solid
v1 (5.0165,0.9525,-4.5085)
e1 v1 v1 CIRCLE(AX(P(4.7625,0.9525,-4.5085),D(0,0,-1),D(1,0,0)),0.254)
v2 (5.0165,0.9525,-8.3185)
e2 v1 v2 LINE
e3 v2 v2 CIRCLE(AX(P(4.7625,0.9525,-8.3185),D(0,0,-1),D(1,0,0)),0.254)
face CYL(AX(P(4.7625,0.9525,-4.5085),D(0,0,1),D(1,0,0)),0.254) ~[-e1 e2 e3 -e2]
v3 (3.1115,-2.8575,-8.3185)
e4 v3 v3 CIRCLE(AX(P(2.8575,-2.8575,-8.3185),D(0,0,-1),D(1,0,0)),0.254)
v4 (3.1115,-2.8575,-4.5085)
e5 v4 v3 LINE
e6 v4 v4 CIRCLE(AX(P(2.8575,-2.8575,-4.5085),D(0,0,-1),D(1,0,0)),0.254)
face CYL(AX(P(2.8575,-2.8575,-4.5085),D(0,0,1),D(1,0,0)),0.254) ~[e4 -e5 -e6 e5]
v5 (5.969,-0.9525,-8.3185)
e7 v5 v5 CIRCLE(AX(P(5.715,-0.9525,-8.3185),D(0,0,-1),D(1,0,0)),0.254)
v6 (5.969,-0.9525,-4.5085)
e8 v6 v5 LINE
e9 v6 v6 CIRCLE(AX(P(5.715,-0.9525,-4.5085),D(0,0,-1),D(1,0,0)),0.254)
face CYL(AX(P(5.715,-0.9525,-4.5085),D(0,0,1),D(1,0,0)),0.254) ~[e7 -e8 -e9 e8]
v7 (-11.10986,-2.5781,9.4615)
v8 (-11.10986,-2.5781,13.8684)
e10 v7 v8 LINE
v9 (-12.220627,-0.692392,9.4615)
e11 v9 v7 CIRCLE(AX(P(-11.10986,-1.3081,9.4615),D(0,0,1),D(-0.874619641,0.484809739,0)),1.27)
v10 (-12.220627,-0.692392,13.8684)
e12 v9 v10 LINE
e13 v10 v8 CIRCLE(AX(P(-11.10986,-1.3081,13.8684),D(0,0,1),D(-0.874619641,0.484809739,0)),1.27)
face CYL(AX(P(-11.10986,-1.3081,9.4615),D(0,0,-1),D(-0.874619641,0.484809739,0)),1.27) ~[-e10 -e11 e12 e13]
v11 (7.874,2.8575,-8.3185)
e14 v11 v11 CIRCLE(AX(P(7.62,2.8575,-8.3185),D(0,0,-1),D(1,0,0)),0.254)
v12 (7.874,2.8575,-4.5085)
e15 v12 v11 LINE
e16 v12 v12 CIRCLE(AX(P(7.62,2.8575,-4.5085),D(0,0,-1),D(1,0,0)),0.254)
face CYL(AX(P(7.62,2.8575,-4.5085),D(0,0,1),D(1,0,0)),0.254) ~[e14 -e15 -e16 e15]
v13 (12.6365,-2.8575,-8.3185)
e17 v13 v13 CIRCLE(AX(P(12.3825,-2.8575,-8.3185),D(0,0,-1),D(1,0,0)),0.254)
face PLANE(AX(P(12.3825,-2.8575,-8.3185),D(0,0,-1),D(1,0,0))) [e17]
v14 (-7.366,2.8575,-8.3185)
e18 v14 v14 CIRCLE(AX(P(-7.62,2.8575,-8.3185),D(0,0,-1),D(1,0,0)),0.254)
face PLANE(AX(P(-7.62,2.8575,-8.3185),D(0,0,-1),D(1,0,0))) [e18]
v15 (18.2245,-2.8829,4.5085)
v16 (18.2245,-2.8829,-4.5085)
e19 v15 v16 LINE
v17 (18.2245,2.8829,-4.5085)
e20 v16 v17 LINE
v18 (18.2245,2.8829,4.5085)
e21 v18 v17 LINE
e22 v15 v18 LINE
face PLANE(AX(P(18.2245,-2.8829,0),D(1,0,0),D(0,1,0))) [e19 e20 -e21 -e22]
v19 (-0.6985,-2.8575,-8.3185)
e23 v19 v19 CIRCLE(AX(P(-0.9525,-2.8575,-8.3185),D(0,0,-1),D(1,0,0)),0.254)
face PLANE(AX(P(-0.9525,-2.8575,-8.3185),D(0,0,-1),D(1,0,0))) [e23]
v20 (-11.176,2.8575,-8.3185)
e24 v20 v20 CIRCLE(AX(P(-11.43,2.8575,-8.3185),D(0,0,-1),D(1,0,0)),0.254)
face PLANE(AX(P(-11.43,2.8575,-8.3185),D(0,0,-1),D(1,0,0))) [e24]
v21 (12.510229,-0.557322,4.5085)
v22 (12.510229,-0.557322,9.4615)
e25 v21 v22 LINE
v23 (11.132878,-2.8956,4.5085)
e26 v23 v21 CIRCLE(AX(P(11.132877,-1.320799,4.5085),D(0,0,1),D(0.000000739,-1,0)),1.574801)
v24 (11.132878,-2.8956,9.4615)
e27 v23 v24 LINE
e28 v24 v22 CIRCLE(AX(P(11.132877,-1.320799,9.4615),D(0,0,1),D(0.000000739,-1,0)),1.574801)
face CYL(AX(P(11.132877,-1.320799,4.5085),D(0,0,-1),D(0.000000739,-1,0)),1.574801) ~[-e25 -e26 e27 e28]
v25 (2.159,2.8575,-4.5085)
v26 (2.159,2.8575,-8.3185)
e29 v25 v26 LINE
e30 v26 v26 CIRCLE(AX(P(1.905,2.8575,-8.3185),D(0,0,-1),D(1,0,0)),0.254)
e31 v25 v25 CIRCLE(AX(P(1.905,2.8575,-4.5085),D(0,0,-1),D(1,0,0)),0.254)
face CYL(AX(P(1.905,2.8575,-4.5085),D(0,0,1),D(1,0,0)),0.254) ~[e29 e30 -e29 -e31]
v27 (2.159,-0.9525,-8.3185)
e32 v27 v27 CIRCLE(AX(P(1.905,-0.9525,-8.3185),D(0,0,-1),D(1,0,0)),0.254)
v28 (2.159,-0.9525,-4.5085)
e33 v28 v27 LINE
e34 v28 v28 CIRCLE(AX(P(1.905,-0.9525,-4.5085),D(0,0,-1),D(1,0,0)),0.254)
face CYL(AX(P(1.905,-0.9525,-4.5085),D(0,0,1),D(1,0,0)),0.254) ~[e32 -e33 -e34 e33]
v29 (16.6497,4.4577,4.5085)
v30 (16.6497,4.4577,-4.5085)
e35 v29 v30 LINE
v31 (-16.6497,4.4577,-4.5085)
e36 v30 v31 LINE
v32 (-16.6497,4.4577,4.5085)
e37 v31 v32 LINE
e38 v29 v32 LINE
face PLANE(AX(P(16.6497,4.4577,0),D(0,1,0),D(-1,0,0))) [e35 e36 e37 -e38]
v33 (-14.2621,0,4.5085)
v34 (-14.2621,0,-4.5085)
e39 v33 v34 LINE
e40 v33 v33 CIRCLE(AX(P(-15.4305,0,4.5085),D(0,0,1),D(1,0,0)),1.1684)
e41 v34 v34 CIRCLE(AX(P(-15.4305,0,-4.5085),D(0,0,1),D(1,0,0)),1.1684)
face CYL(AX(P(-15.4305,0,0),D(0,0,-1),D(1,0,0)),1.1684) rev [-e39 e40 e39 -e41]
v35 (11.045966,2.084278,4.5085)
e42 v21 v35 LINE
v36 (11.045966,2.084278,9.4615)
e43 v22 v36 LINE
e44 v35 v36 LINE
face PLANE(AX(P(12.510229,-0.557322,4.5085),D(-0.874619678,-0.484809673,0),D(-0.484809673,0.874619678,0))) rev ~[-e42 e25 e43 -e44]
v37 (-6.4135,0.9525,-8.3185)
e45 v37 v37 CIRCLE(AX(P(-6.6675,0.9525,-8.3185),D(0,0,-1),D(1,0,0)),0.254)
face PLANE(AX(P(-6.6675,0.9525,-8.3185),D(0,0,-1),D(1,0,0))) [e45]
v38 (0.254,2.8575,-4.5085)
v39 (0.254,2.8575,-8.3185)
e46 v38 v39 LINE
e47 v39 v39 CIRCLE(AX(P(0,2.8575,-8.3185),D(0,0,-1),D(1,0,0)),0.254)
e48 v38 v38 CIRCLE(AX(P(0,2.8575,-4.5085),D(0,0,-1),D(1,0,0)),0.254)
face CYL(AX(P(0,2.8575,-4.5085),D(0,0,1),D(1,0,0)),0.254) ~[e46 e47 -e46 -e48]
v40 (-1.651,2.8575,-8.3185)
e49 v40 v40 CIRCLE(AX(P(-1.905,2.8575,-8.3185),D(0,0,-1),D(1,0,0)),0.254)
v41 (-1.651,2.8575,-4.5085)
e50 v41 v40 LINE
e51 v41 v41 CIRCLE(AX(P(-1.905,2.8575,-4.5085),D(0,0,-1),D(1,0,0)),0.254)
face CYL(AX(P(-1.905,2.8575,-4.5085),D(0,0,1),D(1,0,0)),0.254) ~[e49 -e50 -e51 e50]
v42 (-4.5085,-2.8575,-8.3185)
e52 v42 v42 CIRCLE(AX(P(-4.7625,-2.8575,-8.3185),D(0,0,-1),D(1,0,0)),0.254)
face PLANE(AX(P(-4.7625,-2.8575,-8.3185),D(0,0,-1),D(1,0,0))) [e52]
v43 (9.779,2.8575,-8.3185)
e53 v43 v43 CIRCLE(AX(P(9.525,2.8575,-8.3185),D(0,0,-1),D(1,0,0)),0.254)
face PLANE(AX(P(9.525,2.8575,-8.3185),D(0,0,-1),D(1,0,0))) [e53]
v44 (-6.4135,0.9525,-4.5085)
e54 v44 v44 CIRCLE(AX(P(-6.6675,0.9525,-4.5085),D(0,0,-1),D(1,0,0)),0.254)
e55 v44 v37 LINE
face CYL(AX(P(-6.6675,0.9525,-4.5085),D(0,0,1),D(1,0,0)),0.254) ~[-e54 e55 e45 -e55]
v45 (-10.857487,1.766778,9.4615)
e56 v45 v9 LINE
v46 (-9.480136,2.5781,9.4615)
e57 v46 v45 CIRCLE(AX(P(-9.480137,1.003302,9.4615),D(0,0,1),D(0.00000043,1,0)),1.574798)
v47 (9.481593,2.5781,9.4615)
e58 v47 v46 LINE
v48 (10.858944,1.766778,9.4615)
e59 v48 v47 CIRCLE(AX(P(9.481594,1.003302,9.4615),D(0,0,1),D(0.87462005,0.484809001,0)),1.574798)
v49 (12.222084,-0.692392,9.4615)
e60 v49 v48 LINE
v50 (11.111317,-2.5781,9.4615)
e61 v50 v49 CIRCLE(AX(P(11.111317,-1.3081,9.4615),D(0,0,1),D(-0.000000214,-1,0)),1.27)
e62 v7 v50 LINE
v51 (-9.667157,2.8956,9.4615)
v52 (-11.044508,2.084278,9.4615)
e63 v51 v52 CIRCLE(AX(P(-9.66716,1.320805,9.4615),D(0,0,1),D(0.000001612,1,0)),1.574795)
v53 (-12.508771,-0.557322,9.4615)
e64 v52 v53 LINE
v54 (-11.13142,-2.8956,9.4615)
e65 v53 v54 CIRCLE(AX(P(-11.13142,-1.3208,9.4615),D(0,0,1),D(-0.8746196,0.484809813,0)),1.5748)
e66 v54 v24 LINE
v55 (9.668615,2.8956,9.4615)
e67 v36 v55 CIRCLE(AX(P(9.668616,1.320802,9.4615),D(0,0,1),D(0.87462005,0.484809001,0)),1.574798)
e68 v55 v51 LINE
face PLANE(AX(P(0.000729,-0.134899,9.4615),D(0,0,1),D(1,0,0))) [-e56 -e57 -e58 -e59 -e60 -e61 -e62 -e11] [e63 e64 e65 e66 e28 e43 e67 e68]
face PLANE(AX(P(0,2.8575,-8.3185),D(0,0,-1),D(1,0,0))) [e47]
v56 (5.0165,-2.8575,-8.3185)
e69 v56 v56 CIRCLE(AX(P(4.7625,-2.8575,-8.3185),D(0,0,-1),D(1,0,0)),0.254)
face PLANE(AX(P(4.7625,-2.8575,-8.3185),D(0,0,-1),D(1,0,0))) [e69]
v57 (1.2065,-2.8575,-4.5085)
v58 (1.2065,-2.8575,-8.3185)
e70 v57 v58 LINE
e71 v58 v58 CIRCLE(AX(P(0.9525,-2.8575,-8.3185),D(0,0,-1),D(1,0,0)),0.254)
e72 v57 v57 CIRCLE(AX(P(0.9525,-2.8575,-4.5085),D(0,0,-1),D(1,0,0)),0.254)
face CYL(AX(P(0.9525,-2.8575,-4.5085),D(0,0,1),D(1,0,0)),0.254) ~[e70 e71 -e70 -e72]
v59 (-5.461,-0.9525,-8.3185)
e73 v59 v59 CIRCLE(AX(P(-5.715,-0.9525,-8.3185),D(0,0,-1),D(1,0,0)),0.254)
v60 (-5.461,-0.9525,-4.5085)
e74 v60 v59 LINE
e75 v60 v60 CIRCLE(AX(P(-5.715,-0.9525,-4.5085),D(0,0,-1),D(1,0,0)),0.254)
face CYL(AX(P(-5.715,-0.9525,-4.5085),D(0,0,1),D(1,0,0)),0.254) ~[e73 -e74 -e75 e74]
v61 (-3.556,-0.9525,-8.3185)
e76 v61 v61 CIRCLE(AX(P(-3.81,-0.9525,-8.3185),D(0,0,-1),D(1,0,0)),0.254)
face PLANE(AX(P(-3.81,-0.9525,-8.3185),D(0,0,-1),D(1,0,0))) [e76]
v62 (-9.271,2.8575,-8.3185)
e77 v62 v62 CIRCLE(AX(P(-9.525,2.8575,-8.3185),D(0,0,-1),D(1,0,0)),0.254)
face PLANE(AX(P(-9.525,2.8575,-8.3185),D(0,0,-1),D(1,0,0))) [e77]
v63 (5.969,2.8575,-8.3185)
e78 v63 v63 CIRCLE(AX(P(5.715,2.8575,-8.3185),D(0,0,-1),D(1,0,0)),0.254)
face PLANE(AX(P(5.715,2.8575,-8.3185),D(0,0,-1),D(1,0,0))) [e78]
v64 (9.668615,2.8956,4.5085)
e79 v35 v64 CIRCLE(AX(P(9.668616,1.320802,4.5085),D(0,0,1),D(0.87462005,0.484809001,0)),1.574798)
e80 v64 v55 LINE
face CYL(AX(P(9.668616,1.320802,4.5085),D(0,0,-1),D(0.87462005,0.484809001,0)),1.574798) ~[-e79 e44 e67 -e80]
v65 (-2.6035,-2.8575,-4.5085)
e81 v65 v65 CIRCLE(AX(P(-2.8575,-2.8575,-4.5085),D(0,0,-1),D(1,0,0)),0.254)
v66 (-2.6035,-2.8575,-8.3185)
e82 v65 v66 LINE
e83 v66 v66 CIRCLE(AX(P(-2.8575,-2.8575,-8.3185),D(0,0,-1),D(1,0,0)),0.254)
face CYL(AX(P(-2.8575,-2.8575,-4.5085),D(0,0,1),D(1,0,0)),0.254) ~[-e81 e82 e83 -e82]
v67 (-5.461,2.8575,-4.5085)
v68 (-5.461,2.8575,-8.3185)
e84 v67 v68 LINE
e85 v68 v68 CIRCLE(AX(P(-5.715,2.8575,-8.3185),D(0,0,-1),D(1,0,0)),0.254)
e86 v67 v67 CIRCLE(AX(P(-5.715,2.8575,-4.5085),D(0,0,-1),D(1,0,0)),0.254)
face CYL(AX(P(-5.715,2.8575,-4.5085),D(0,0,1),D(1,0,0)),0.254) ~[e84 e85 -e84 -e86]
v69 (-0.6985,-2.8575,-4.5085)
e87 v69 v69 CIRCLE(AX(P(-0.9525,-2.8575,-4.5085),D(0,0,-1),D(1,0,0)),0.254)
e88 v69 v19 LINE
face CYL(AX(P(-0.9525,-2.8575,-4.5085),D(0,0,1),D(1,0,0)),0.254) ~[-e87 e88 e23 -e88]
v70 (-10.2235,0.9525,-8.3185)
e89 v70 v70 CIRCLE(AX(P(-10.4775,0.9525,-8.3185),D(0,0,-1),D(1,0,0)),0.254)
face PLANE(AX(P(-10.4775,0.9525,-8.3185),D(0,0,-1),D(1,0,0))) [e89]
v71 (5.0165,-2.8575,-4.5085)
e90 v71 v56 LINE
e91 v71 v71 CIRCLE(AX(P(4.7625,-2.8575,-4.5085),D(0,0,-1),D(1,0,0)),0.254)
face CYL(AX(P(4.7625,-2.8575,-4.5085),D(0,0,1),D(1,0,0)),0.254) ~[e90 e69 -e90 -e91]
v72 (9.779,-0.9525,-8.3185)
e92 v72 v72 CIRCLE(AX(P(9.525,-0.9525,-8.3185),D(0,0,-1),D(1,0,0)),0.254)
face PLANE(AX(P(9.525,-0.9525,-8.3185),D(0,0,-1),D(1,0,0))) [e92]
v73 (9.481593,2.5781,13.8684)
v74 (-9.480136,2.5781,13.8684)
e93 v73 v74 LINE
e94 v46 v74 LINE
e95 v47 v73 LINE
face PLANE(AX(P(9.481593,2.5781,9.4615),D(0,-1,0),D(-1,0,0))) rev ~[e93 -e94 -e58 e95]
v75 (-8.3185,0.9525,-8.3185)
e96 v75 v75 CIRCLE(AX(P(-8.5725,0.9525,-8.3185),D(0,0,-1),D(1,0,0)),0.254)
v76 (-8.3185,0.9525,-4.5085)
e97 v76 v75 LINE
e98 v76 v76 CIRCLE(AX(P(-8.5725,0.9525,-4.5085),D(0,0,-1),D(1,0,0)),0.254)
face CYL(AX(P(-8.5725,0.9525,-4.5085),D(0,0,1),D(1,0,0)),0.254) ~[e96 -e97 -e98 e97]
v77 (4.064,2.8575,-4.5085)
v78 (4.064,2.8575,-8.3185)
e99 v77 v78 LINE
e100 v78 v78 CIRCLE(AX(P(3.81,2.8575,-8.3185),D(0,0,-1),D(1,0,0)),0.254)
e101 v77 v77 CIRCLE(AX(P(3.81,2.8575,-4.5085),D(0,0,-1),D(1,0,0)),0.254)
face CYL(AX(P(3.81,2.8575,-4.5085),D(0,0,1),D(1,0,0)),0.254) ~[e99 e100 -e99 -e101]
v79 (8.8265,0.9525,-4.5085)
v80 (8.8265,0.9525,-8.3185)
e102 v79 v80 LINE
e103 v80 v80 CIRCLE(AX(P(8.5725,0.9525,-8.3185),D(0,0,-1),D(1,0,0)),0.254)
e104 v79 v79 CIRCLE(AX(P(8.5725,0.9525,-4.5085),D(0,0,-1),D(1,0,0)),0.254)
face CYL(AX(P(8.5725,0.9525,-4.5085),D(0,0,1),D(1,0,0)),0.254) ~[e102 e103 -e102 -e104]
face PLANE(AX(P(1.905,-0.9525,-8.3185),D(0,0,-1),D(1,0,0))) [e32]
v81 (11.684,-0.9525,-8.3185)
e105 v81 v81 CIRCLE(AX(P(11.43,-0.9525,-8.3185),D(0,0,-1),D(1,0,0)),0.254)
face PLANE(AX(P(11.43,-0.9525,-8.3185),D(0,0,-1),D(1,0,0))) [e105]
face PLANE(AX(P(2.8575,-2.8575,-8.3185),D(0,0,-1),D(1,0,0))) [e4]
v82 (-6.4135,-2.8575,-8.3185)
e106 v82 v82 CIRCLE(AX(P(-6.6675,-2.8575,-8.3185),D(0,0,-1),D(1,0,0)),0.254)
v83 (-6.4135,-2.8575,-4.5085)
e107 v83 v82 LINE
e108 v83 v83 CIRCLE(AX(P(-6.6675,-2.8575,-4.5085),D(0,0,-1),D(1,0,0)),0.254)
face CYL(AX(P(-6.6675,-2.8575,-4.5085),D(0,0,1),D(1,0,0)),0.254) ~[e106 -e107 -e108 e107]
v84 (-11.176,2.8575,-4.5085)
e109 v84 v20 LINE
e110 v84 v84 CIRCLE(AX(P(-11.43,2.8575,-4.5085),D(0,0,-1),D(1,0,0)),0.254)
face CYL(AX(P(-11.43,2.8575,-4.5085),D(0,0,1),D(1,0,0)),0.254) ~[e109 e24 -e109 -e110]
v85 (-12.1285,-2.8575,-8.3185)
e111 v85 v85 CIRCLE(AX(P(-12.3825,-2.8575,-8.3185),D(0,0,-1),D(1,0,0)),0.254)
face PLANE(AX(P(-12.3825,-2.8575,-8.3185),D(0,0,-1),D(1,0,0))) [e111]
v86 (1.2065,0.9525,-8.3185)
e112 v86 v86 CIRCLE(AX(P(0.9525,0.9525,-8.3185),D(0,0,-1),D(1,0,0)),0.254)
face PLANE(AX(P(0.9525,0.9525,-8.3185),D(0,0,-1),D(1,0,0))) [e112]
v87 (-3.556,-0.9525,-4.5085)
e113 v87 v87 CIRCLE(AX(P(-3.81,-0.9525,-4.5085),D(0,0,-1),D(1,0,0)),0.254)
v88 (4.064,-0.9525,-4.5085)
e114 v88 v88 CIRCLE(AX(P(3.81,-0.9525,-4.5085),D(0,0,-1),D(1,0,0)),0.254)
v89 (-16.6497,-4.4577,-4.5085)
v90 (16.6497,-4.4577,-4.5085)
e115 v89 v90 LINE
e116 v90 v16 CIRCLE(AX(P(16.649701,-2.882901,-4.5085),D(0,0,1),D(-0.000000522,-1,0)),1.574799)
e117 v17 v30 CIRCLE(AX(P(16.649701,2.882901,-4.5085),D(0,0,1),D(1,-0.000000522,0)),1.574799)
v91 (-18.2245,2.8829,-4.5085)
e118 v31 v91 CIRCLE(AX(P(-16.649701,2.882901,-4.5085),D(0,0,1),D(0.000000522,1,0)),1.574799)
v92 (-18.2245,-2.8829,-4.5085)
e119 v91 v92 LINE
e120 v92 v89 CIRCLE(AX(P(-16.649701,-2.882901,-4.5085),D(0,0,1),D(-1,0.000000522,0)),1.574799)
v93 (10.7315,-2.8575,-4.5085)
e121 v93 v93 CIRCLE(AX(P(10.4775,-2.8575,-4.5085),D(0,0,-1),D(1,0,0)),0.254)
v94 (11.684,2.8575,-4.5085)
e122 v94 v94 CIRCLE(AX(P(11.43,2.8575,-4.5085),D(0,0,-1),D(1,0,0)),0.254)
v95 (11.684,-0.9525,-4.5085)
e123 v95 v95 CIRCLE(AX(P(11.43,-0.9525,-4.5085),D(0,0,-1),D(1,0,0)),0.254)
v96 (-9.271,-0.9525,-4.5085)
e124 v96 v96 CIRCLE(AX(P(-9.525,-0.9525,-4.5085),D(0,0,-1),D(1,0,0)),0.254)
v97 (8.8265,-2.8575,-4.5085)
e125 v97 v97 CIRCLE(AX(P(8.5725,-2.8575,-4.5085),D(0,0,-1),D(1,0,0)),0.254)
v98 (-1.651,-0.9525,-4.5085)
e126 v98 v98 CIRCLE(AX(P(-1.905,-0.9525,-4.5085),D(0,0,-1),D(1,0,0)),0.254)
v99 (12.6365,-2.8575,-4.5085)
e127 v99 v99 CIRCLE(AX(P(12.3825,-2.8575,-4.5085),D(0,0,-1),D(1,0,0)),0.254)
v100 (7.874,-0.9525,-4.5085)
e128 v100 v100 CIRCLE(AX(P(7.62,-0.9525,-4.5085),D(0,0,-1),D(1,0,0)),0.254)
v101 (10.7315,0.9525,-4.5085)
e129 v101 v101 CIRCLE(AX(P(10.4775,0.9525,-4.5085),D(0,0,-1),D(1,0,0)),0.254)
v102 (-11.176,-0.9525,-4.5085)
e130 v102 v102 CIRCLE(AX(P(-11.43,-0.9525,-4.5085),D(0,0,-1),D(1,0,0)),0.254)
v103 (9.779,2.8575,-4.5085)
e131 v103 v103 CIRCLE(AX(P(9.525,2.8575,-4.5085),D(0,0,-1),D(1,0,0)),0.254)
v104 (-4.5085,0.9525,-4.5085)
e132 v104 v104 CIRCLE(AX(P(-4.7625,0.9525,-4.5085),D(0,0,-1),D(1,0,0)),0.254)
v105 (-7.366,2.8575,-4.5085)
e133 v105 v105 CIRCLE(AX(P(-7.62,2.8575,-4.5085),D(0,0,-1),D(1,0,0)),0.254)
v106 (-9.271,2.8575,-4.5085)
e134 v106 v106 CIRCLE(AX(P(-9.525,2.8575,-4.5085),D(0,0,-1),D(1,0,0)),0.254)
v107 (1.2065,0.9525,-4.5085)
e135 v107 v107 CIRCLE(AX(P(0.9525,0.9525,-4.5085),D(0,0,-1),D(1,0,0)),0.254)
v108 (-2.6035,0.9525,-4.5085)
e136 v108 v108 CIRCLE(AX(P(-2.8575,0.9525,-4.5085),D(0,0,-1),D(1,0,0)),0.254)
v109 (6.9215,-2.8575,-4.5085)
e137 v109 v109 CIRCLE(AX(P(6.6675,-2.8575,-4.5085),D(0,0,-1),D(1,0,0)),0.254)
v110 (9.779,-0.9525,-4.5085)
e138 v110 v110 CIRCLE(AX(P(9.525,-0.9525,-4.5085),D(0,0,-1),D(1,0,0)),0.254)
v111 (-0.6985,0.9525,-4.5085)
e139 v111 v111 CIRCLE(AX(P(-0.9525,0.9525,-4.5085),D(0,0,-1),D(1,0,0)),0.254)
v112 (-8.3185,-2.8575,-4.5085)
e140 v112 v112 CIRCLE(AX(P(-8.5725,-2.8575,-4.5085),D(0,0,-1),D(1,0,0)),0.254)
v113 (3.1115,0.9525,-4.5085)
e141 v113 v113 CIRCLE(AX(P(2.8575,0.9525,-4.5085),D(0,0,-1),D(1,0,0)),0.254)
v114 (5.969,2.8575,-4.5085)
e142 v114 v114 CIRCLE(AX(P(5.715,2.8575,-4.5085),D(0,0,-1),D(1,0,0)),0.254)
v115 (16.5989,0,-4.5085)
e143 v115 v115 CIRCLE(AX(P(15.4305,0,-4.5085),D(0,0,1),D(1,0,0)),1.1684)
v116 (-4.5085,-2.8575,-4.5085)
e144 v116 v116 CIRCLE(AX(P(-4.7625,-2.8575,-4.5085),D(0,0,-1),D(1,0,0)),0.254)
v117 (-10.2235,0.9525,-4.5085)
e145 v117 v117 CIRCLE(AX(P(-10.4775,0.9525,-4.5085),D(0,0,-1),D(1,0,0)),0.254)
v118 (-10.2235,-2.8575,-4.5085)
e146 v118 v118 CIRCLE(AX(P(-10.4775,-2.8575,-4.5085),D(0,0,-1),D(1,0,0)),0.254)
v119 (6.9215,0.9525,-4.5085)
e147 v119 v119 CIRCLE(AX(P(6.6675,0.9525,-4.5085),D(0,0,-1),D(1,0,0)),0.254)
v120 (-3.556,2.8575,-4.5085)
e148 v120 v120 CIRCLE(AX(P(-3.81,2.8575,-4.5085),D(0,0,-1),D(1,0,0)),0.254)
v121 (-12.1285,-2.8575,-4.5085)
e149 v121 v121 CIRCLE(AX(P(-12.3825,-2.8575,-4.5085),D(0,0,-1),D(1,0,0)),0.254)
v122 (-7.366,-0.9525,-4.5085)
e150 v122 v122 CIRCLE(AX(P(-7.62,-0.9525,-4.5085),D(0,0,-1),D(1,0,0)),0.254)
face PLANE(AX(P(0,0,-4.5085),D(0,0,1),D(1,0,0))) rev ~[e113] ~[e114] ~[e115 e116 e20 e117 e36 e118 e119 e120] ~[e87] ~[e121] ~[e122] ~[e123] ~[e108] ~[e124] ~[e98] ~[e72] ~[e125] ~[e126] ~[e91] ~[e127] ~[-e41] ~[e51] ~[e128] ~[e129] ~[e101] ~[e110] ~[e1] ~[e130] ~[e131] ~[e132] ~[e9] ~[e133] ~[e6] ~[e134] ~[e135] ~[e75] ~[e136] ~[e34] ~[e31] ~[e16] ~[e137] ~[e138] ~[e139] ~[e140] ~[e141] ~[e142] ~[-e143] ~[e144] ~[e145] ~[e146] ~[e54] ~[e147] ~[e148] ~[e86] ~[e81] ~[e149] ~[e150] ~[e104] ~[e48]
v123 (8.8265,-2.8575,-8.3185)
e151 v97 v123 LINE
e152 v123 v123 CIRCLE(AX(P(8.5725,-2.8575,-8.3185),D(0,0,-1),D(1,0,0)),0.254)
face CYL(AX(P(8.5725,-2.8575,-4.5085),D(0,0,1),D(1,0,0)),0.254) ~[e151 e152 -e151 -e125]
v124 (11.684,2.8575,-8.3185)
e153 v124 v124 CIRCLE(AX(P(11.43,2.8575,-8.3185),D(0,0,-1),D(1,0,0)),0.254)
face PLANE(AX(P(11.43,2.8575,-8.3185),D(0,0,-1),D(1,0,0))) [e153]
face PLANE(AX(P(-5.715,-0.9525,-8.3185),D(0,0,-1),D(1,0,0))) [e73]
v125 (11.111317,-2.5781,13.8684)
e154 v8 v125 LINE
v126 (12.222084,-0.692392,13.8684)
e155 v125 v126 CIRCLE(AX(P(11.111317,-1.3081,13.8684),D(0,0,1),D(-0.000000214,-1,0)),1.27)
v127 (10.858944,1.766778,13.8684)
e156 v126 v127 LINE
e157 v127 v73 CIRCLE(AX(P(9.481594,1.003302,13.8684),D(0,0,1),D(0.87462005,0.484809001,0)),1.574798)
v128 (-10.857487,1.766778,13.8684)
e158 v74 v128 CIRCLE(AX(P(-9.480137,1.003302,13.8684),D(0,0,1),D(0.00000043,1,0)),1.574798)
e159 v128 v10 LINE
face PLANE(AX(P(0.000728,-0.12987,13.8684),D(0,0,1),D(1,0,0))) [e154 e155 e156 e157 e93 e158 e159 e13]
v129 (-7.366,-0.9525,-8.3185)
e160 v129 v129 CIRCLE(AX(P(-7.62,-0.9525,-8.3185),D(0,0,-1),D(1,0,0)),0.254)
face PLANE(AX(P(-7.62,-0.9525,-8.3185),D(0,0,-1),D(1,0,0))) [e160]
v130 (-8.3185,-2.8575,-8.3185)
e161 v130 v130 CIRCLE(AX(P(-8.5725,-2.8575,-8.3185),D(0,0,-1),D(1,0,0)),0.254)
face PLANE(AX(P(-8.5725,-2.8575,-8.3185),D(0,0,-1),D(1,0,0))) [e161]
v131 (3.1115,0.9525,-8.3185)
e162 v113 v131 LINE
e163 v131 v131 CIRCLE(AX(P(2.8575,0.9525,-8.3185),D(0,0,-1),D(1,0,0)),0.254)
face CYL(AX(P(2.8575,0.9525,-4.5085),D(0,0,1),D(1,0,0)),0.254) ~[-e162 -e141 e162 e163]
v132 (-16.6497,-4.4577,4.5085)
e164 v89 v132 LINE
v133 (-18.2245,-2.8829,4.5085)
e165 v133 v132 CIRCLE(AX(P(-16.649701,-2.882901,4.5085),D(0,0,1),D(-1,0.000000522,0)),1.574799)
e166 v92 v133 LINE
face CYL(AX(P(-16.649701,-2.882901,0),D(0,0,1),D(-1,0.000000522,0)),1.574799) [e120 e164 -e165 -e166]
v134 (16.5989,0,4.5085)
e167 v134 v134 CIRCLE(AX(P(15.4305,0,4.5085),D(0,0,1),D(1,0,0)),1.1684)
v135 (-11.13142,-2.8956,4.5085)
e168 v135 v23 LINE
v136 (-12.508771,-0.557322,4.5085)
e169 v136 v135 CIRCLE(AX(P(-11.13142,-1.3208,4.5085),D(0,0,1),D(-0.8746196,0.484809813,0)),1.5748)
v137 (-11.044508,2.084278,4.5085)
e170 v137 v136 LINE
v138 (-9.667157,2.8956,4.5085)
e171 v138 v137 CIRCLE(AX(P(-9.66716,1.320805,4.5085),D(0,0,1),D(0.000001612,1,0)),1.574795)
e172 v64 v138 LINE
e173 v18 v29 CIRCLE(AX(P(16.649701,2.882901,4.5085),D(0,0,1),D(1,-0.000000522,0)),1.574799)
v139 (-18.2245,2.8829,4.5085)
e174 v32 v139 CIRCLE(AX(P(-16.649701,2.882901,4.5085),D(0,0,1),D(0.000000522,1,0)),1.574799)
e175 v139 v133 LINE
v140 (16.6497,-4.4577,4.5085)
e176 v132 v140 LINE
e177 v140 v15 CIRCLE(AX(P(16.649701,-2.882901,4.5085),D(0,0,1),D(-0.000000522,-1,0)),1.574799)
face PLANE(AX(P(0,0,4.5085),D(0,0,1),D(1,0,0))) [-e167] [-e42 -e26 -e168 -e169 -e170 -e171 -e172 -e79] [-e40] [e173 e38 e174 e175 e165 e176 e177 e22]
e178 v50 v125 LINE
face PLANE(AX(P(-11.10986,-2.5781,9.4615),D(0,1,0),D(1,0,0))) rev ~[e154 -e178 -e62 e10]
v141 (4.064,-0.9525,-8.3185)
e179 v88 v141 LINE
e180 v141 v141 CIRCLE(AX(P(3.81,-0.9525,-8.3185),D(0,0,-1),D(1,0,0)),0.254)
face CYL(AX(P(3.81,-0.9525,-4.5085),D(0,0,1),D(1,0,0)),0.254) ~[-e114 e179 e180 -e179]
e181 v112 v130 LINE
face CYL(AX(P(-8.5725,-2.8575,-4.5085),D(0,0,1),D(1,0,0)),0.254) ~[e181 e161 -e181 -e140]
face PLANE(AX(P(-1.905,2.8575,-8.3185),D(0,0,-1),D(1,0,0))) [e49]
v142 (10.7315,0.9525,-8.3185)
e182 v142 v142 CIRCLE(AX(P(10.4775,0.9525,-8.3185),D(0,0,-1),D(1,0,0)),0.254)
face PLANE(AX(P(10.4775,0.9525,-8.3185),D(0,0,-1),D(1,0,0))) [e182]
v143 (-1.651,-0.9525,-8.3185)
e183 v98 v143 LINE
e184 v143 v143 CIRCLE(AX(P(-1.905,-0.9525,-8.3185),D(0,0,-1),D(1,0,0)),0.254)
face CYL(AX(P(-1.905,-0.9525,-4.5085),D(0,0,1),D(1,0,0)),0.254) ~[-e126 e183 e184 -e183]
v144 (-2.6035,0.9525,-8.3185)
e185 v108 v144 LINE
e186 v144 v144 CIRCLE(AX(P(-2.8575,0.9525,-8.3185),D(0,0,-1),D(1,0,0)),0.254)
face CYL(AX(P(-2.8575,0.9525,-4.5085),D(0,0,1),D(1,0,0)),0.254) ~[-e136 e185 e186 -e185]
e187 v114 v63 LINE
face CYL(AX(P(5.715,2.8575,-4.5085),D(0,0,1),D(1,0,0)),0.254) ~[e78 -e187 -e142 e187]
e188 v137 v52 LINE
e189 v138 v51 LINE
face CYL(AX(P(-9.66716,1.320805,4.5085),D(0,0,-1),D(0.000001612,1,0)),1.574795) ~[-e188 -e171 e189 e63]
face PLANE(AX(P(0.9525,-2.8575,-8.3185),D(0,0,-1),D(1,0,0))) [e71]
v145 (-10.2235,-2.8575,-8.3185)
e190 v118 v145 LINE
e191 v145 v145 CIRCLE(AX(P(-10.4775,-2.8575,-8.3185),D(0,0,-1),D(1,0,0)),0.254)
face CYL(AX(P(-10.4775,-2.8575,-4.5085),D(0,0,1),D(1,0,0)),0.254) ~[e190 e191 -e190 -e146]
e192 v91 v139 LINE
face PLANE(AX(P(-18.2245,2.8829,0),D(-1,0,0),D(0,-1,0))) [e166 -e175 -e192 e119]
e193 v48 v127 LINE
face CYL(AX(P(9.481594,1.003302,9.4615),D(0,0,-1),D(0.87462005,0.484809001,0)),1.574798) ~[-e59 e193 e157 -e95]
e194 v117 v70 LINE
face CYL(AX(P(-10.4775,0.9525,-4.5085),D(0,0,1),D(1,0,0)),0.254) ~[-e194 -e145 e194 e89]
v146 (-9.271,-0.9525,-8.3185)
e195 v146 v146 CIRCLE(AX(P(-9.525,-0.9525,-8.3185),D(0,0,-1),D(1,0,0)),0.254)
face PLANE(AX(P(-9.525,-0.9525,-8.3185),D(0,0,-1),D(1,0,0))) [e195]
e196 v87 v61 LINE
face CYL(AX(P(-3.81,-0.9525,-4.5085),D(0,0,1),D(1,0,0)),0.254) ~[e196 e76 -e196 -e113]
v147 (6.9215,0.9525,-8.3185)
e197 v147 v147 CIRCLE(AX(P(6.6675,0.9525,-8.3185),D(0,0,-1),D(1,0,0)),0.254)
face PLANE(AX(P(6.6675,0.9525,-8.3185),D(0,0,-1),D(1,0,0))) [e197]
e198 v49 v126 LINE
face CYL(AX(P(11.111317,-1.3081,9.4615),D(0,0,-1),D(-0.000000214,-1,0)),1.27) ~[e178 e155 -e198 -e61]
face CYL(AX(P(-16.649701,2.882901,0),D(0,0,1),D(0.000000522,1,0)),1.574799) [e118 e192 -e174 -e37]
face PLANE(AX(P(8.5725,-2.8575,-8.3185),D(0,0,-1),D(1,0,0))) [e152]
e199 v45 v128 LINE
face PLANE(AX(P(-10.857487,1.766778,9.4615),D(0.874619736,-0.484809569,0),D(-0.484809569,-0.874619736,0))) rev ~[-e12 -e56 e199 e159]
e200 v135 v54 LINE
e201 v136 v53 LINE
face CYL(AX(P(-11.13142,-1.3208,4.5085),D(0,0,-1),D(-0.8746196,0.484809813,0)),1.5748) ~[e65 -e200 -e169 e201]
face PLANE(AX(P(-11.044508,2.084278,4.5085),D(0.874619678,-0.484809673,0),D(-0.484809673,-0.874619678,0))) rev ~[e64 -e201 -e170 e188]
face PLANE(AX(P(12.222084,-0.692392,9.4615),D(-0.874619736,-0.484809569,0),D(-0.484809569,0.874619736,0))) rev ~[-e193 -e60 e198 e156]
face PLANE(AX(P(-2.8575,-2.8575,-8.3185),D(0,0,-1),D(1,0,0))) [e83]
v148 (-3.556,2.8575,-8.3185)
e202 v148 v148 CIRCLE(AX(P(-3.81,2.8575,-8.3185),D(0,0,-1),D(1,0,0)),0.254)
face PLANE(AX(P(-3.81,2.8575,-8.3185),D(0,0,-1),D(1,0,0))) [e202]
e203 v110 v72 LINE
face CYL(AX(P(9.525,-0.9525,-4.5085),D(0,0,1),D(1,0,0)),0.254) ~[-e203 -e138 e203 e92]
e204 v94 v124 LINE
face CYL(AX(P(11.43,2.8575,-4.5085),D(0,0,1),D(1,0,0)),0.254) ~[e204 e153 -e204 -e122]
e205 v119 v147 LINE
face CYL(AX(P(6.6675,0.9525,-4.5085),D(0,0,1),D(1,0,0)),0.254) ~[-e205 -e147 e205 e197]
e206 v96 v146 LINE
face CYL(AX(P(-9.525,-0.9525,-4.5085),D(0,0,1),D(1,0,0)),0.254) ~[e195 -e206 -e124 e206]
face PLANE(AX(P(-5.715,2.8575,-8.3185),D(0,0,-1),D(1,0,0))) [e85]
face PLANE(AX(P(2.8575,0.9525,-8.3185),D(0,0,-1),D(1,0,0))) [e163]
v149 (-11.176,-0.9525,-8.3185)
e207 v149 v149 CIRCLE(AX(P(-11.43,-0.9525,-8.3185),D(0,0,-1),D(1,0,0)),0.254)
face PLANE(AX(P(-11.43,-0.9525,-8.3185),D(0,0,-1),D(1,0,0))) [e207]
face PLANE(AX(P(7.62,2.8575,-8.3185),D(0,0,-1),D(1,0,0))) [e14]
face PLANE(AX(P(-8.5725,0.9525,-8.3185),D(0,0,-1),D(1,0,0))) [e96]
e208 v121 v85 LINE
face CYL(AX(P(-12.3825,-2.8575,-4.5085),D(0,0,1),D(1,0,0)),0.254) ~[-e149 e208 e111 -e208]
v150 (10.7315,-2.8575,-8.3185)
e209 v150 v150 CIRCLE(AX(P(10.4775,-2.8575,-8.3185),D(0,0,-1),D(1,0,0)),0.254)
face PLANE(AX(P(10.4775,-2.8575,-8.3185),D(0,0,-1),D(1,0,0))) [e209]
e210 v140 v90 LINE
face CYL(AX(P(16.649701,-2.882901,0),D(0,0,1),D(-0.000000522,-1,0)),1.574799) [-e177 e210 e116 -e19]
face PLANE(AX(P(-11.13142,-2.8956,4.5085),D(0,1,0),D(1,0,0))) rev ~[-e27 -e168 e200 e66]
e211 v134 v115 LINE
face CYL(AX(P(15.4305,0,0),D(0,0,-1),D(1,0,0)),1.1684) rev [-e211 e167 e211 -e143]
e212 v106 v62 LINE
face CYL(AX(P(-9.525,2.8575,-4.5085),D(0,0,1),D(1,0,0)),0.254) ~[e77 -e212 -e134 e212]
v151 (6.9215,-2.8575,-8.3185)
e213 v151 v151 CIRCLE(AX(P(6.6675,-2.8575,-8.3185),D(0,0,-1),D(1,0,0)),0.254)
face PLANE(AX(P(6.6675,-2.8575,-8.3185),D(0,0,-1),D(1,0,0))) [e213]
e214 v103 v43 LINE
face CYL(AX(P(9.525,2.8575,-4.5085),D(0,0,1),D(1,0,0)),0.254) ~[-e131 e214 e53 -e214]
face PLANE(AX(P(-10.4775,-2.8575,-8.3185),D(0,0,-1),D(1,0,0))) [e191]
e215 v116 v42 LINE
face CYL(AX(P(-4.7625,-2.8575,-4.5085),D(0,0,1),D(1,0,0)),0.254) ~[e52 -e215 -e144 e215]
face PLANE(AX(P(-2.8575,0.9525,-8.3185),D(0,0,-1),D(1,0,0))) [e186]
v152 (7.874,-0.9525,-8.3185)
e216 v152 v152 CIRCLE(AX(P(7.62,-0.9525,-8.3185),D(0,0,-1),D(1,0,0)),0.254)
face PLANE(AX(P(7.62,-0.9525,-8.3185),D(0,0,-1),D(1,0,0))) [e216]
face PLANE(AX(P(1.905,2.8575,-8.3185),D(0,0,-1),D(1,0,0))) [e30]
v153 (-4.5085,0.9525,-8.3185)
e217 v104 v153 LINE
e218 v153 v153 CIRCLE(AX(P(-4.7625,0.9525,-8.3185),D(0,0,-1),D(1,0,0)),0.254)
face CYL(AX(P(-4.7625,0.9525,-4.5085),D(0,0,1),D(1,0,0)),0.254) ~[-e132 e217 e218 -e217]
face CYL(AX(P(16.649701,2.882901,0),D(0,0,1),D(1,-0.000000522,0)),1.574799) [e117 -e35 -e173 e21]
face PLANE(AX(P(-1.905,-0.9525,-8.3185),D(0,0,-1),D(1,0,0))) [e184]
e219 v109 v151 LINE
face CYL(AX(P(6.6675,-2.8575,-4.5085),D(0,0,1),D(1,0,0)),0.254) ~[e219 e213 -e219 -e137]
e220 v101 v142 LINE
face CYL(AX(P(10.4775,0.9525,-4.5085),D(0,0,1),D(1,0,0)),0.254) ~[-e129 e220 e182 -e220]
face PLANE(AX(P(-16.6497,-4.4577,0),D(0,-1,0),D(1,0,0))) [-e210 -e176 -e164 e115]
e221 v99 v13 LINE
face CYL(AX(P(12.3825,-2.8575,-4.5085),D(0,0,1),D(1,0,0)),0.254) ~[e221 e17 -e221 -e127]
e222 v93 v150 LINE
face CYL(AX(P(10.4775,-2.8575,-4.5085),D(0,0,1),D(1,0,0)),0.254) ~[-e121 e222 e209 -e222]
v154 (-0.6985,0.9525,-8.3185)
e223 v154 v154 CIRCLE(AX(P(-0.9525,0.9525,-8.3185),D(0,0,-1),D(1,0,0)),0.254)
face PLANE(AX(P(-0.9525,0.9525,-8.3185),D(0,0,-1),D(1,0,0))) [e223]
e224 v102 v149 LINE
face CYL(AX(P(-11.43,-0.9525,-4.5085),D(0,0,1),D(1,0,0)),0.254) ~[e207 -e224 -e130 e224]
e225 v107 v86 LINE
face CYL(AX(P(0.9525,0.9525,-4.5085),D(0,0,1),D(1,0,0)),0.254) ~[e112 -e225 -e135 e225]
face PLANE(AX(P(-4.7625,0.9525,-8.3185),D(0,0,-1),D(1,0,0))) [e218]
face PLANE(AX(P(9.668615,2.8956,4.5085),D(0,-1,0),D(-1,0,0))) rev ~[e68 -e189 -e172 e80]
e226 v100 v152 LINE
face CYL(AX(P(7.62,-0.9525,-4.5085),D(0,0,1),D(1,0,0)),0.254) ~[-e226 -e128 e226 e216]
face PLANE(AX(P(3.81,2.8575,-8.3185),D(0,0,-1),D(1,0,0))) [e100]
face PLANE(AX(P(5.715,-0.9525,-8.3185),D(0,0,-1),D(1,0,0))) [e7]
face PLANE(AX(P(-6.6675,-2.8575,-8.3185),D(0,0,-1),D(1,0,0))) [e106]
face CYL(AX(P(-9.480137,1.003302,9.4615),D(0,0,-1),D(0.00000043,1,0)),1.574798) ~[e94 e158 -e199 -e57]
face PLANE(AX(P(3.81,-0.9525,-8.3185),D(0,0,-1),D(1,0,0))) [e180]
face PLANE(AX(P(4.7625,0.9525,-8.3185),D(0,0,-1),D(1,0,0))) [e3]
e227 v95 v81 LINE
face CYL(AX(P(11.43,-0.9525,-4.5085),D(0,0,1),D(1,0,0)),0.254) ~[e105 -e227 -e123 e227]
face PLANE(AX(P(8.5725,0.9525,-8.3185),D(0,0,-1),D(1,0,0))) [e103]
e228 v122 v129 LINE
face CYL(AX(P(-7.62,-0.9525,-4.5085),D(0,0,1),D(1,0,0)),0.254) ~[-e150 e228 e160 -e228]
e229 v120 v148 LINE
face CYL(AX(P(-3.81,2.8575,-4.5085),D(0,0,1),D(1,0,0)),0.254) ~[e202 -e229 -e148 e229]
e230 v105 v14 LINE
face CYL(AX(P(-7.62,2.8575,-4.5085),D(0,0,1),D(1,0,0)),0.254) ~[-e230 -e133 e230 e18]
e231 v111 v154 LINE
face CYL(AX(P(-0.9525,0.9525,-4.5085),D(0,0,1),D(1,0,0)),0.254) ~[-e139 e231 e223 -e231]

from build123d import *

# Parameters (mm, degrees)
F0_R     = 1.1684
F1_DEPTH = 4.5085
F3_DEPTH = 4.953
F5_DEPTH = 4.4069
F6_R     = 0.254
F7_DEPTH = 3.81


with BuildPart() as f1:
    # F0 (on Top) → F1 (new body, symmetric)
    with BuildSketch(Plane.XY):
        with BuildLine():
            Line((16.6497, 4.4577), (-16.6497, 4.4577))
            ThreePointArc((-16.6497, 4.4577), (-17.763252, 3.996452), (-18.2245, 2.8829))
            Line((-18.2245, 2.8829), (-18.2245, -2.8829))
            ThreePointArc((-18.2245, -2.8829), (-17.763252, -3.996452), (-16.6497, -4.4577))
            Line((-16.6497, -4.4577), (16.6497, -4.4577))
            ThreePointArc((16.6497, -4.4577), (17.763252, -3.996452), (18.2245, -2.8829))
            Line((18.2245, -2.8829), (18.2245, 2.8829))
            ThreePointArc((18.2245, 2.8829), (17.763252, 3.996452), (16.6497, 4.4577))
        make_face()
        with Locations((-15.4305, 0)):
            Circle(F0_R, mode=Mode.SUBTRACT)
        with Locations((15.4305, 0)):
            Circle(F0_R, mode=Mode.SUBTRACT)
    extrude(amount=F1_DEPTH, both=True)

    # F2 (on face) → F3 (join)
    with BuildSketch(Plane.XY.offset(4.5085)):
        with BuildLine():
            Line((-11.13142, -2.8956), (11.132878, -2.8956))
            ThreePointArc((11.132878, -2.8956), (12.489771, -2.120071), (12.510229, -0.557322))
            Line((12.510229, -0.557322), (11.045966, 2.084278))
            ThreePointArc((11.045966, 2.084278), (10.467886, 2.677694), (9.668615, 2.8956))
            Line((9.668615, 2.8956), (-9.667157, 2.8956))
            ThreePointArc((-9.667157, 2.8956), (-10.466429, 2.677694), (-11.044508, 2.084278))
            Line((-11.044508, 2.084278), (-12.508771, -0.557322))
            ThreePointArc((-12.508771, -0.557322), (-12.488314, -2.120071), (-11.13142, -2.8956))
        make_face()
    extrude(amount=F3_DEPTH)

    # F4 (on face) → F5 (join)
    with BuildSketch(Plane.XY.offset(9.4615)):
        with BuildLine():
            Line((9.481593, 2.5781), (-9.480136, 2.5781))
            ThreePointArc((-9.480136, 2.5781), (-10.279407, 2.360194), (-10.857487, 1.766778))
            Line((-10.857487, 1.766778), (-12.220627, -0.692392))
            ThreePointArc((-12.220627, -0.692392), (-12.204129, -1.952674), (-11.10986, -2.5781))
            Line((-11.10986, -2.5781), (11.111317, -2.5781))
            ThreePointArc((11.111317, -2.5781), (12.205586, -1.952674), (12.222084, -0.692392))
            Line((12.222084, -0.692392), (10.858944, 1.766778))
            ThreePointArc((10.858944, 1.766778), (10.280864, 2.360194), (9.481593, 2.5781))
        make_face()
    extrude(amount=F5_DEPTH)

    # F6 (on face) → F7 (join)
    with BuildSketch(Plane(origin=(0, 0, -4.5085), x_dir=(1, 0, 0), z_dir=(0, 0, -1))):
        with Locations((-12.3825, 2.8575)):
            Circle(F6_R)
        with Locations((-10.4775, 2.8575)):
            Circle(F6_R)
        with Locations((-8.5725, 2.8575)):
            Circle(F6_R)
        with Locations((-6.6675, 2.8575)):
            Circle(F6_R)
        with Locations((-4.7625, 2.8575)):
            Circle(F6_R)
        with Locations((-2.8575, 2.8575)):
            Circle(F6_R)
        with Locations((-0.9525, 2.8575)):
            Circle(F6_R)
        with Locations((0.9525, 2.8575)):
            Circle(F6_R)
        with Locations((2.8575, 2.8575)):
            Circle(F6_R)
        with Locations((4.7625, 2.8575)):
            Circle(F6_R)
        with Locations((6.6675, 2.8575)):
            Circle(F6_R)
        with Locations((8.5725, 2.8575)):
            Circle(F6_R)
        with Locations((10.4775, 2.8575)):
            Circle(F6_R)
        with Locations((12.3825, 2.8575)):
            Circle(F6_R)
        with Locations((-11.43, 0.9525)):
            Circle(F6_R)
        with Locations((-9.525, 0.9525)):
            Circle(F6_R)
        with Locations((-7.62, 0.9525)):
            Circle(F6_R)
        with Locations((-5.715, 0.9525)):
            Circle(F6_R)
        with Locations((-3.81, 0.9525)):
            Circle(F6_R)
        with Locations((-1.905, 0.9525)):
            Circle(F6_R)
        with Locations((-10.4775, -0.9525)):
            Circle(F6_R)
        with Locations((-8.5725, -0.9525)):
            Circle(F6_R)
        with Locations((-6.6675, -0.9525)):
            Circle(F6_R)
        with Locations((-4.7625, -0.9525)):
            Circle(F6_R)
        with Locations((-2.8575, -0.9525)):
            Circle(F6_R)
        with Locations((-0.9525, -0.9525)):
            Circle(F6_R)
        with Locations((9.525, 0.9525)):
            Circle(F6_R)
        with Locations((7.62, 0.9525)):
            Circle(F6_R)
        with Locations((6.6675, -0.9525)):
            Circle(F6_R)
        with Locations((11.43, 0.9525)):
            Circle(F6_R)
        with Locations((4.7625, -0.9525)):
            Circle(F6_R)
        with Locations((2.8575, -0.9525)):
            Circle(F6_R)
        with Locations((5.715, 0.9525)):
            Circle(F6_R)
        with Locations((8.5725, -0.9525)):
            Circle(F6_R)
        with Locations((1.905, 0.9525)):
            Circle(F6_R)
        with Locations((3.81, 0.9525)):
            Circle(F6_R)
        with Locations((10.4775, -0.9525)):
            Circle(F6_R)
        with Locations((0.9525, -0.9525)):
            Circle(F6_R)
        with Locations((-11.43, -2.8575)):
            Circle(F6_R)
        with Locations((-9.525, -2.8575)):
            Circle(F6_R)
        with Locations((-7.62, -2.8575)):
            Circle(F6_R)
        with Locations((-5.715, -2.8575)):
            Circle(F6_R)
        with Locations((-3.81, -2.8575)):
            Circle(F6_R)
        with Locations((-1.905, -2.8575)):
            Circle(F6_R)
        with Locations((0, -2.8575)):
            Circle(F6_R)
        with Locations((1.905, -2.8575)):
            Circle(F6_R)
        with Locations((3.81, -2.8575)):
            Circle(F6_R)
        with Locations((5.715, -2.8575)):
            Circle(F6_R)
        with Locations((7.62, -2.8575)):
            Circle(F6_R)
        with Locations((9.525, -2.8575)):
            Circle(F6_R)
        with Locations((11.43, -2.8575)):
            Circle(F6_R)
    extrude(amount=F7_DEPTH)


solid = f1.part
